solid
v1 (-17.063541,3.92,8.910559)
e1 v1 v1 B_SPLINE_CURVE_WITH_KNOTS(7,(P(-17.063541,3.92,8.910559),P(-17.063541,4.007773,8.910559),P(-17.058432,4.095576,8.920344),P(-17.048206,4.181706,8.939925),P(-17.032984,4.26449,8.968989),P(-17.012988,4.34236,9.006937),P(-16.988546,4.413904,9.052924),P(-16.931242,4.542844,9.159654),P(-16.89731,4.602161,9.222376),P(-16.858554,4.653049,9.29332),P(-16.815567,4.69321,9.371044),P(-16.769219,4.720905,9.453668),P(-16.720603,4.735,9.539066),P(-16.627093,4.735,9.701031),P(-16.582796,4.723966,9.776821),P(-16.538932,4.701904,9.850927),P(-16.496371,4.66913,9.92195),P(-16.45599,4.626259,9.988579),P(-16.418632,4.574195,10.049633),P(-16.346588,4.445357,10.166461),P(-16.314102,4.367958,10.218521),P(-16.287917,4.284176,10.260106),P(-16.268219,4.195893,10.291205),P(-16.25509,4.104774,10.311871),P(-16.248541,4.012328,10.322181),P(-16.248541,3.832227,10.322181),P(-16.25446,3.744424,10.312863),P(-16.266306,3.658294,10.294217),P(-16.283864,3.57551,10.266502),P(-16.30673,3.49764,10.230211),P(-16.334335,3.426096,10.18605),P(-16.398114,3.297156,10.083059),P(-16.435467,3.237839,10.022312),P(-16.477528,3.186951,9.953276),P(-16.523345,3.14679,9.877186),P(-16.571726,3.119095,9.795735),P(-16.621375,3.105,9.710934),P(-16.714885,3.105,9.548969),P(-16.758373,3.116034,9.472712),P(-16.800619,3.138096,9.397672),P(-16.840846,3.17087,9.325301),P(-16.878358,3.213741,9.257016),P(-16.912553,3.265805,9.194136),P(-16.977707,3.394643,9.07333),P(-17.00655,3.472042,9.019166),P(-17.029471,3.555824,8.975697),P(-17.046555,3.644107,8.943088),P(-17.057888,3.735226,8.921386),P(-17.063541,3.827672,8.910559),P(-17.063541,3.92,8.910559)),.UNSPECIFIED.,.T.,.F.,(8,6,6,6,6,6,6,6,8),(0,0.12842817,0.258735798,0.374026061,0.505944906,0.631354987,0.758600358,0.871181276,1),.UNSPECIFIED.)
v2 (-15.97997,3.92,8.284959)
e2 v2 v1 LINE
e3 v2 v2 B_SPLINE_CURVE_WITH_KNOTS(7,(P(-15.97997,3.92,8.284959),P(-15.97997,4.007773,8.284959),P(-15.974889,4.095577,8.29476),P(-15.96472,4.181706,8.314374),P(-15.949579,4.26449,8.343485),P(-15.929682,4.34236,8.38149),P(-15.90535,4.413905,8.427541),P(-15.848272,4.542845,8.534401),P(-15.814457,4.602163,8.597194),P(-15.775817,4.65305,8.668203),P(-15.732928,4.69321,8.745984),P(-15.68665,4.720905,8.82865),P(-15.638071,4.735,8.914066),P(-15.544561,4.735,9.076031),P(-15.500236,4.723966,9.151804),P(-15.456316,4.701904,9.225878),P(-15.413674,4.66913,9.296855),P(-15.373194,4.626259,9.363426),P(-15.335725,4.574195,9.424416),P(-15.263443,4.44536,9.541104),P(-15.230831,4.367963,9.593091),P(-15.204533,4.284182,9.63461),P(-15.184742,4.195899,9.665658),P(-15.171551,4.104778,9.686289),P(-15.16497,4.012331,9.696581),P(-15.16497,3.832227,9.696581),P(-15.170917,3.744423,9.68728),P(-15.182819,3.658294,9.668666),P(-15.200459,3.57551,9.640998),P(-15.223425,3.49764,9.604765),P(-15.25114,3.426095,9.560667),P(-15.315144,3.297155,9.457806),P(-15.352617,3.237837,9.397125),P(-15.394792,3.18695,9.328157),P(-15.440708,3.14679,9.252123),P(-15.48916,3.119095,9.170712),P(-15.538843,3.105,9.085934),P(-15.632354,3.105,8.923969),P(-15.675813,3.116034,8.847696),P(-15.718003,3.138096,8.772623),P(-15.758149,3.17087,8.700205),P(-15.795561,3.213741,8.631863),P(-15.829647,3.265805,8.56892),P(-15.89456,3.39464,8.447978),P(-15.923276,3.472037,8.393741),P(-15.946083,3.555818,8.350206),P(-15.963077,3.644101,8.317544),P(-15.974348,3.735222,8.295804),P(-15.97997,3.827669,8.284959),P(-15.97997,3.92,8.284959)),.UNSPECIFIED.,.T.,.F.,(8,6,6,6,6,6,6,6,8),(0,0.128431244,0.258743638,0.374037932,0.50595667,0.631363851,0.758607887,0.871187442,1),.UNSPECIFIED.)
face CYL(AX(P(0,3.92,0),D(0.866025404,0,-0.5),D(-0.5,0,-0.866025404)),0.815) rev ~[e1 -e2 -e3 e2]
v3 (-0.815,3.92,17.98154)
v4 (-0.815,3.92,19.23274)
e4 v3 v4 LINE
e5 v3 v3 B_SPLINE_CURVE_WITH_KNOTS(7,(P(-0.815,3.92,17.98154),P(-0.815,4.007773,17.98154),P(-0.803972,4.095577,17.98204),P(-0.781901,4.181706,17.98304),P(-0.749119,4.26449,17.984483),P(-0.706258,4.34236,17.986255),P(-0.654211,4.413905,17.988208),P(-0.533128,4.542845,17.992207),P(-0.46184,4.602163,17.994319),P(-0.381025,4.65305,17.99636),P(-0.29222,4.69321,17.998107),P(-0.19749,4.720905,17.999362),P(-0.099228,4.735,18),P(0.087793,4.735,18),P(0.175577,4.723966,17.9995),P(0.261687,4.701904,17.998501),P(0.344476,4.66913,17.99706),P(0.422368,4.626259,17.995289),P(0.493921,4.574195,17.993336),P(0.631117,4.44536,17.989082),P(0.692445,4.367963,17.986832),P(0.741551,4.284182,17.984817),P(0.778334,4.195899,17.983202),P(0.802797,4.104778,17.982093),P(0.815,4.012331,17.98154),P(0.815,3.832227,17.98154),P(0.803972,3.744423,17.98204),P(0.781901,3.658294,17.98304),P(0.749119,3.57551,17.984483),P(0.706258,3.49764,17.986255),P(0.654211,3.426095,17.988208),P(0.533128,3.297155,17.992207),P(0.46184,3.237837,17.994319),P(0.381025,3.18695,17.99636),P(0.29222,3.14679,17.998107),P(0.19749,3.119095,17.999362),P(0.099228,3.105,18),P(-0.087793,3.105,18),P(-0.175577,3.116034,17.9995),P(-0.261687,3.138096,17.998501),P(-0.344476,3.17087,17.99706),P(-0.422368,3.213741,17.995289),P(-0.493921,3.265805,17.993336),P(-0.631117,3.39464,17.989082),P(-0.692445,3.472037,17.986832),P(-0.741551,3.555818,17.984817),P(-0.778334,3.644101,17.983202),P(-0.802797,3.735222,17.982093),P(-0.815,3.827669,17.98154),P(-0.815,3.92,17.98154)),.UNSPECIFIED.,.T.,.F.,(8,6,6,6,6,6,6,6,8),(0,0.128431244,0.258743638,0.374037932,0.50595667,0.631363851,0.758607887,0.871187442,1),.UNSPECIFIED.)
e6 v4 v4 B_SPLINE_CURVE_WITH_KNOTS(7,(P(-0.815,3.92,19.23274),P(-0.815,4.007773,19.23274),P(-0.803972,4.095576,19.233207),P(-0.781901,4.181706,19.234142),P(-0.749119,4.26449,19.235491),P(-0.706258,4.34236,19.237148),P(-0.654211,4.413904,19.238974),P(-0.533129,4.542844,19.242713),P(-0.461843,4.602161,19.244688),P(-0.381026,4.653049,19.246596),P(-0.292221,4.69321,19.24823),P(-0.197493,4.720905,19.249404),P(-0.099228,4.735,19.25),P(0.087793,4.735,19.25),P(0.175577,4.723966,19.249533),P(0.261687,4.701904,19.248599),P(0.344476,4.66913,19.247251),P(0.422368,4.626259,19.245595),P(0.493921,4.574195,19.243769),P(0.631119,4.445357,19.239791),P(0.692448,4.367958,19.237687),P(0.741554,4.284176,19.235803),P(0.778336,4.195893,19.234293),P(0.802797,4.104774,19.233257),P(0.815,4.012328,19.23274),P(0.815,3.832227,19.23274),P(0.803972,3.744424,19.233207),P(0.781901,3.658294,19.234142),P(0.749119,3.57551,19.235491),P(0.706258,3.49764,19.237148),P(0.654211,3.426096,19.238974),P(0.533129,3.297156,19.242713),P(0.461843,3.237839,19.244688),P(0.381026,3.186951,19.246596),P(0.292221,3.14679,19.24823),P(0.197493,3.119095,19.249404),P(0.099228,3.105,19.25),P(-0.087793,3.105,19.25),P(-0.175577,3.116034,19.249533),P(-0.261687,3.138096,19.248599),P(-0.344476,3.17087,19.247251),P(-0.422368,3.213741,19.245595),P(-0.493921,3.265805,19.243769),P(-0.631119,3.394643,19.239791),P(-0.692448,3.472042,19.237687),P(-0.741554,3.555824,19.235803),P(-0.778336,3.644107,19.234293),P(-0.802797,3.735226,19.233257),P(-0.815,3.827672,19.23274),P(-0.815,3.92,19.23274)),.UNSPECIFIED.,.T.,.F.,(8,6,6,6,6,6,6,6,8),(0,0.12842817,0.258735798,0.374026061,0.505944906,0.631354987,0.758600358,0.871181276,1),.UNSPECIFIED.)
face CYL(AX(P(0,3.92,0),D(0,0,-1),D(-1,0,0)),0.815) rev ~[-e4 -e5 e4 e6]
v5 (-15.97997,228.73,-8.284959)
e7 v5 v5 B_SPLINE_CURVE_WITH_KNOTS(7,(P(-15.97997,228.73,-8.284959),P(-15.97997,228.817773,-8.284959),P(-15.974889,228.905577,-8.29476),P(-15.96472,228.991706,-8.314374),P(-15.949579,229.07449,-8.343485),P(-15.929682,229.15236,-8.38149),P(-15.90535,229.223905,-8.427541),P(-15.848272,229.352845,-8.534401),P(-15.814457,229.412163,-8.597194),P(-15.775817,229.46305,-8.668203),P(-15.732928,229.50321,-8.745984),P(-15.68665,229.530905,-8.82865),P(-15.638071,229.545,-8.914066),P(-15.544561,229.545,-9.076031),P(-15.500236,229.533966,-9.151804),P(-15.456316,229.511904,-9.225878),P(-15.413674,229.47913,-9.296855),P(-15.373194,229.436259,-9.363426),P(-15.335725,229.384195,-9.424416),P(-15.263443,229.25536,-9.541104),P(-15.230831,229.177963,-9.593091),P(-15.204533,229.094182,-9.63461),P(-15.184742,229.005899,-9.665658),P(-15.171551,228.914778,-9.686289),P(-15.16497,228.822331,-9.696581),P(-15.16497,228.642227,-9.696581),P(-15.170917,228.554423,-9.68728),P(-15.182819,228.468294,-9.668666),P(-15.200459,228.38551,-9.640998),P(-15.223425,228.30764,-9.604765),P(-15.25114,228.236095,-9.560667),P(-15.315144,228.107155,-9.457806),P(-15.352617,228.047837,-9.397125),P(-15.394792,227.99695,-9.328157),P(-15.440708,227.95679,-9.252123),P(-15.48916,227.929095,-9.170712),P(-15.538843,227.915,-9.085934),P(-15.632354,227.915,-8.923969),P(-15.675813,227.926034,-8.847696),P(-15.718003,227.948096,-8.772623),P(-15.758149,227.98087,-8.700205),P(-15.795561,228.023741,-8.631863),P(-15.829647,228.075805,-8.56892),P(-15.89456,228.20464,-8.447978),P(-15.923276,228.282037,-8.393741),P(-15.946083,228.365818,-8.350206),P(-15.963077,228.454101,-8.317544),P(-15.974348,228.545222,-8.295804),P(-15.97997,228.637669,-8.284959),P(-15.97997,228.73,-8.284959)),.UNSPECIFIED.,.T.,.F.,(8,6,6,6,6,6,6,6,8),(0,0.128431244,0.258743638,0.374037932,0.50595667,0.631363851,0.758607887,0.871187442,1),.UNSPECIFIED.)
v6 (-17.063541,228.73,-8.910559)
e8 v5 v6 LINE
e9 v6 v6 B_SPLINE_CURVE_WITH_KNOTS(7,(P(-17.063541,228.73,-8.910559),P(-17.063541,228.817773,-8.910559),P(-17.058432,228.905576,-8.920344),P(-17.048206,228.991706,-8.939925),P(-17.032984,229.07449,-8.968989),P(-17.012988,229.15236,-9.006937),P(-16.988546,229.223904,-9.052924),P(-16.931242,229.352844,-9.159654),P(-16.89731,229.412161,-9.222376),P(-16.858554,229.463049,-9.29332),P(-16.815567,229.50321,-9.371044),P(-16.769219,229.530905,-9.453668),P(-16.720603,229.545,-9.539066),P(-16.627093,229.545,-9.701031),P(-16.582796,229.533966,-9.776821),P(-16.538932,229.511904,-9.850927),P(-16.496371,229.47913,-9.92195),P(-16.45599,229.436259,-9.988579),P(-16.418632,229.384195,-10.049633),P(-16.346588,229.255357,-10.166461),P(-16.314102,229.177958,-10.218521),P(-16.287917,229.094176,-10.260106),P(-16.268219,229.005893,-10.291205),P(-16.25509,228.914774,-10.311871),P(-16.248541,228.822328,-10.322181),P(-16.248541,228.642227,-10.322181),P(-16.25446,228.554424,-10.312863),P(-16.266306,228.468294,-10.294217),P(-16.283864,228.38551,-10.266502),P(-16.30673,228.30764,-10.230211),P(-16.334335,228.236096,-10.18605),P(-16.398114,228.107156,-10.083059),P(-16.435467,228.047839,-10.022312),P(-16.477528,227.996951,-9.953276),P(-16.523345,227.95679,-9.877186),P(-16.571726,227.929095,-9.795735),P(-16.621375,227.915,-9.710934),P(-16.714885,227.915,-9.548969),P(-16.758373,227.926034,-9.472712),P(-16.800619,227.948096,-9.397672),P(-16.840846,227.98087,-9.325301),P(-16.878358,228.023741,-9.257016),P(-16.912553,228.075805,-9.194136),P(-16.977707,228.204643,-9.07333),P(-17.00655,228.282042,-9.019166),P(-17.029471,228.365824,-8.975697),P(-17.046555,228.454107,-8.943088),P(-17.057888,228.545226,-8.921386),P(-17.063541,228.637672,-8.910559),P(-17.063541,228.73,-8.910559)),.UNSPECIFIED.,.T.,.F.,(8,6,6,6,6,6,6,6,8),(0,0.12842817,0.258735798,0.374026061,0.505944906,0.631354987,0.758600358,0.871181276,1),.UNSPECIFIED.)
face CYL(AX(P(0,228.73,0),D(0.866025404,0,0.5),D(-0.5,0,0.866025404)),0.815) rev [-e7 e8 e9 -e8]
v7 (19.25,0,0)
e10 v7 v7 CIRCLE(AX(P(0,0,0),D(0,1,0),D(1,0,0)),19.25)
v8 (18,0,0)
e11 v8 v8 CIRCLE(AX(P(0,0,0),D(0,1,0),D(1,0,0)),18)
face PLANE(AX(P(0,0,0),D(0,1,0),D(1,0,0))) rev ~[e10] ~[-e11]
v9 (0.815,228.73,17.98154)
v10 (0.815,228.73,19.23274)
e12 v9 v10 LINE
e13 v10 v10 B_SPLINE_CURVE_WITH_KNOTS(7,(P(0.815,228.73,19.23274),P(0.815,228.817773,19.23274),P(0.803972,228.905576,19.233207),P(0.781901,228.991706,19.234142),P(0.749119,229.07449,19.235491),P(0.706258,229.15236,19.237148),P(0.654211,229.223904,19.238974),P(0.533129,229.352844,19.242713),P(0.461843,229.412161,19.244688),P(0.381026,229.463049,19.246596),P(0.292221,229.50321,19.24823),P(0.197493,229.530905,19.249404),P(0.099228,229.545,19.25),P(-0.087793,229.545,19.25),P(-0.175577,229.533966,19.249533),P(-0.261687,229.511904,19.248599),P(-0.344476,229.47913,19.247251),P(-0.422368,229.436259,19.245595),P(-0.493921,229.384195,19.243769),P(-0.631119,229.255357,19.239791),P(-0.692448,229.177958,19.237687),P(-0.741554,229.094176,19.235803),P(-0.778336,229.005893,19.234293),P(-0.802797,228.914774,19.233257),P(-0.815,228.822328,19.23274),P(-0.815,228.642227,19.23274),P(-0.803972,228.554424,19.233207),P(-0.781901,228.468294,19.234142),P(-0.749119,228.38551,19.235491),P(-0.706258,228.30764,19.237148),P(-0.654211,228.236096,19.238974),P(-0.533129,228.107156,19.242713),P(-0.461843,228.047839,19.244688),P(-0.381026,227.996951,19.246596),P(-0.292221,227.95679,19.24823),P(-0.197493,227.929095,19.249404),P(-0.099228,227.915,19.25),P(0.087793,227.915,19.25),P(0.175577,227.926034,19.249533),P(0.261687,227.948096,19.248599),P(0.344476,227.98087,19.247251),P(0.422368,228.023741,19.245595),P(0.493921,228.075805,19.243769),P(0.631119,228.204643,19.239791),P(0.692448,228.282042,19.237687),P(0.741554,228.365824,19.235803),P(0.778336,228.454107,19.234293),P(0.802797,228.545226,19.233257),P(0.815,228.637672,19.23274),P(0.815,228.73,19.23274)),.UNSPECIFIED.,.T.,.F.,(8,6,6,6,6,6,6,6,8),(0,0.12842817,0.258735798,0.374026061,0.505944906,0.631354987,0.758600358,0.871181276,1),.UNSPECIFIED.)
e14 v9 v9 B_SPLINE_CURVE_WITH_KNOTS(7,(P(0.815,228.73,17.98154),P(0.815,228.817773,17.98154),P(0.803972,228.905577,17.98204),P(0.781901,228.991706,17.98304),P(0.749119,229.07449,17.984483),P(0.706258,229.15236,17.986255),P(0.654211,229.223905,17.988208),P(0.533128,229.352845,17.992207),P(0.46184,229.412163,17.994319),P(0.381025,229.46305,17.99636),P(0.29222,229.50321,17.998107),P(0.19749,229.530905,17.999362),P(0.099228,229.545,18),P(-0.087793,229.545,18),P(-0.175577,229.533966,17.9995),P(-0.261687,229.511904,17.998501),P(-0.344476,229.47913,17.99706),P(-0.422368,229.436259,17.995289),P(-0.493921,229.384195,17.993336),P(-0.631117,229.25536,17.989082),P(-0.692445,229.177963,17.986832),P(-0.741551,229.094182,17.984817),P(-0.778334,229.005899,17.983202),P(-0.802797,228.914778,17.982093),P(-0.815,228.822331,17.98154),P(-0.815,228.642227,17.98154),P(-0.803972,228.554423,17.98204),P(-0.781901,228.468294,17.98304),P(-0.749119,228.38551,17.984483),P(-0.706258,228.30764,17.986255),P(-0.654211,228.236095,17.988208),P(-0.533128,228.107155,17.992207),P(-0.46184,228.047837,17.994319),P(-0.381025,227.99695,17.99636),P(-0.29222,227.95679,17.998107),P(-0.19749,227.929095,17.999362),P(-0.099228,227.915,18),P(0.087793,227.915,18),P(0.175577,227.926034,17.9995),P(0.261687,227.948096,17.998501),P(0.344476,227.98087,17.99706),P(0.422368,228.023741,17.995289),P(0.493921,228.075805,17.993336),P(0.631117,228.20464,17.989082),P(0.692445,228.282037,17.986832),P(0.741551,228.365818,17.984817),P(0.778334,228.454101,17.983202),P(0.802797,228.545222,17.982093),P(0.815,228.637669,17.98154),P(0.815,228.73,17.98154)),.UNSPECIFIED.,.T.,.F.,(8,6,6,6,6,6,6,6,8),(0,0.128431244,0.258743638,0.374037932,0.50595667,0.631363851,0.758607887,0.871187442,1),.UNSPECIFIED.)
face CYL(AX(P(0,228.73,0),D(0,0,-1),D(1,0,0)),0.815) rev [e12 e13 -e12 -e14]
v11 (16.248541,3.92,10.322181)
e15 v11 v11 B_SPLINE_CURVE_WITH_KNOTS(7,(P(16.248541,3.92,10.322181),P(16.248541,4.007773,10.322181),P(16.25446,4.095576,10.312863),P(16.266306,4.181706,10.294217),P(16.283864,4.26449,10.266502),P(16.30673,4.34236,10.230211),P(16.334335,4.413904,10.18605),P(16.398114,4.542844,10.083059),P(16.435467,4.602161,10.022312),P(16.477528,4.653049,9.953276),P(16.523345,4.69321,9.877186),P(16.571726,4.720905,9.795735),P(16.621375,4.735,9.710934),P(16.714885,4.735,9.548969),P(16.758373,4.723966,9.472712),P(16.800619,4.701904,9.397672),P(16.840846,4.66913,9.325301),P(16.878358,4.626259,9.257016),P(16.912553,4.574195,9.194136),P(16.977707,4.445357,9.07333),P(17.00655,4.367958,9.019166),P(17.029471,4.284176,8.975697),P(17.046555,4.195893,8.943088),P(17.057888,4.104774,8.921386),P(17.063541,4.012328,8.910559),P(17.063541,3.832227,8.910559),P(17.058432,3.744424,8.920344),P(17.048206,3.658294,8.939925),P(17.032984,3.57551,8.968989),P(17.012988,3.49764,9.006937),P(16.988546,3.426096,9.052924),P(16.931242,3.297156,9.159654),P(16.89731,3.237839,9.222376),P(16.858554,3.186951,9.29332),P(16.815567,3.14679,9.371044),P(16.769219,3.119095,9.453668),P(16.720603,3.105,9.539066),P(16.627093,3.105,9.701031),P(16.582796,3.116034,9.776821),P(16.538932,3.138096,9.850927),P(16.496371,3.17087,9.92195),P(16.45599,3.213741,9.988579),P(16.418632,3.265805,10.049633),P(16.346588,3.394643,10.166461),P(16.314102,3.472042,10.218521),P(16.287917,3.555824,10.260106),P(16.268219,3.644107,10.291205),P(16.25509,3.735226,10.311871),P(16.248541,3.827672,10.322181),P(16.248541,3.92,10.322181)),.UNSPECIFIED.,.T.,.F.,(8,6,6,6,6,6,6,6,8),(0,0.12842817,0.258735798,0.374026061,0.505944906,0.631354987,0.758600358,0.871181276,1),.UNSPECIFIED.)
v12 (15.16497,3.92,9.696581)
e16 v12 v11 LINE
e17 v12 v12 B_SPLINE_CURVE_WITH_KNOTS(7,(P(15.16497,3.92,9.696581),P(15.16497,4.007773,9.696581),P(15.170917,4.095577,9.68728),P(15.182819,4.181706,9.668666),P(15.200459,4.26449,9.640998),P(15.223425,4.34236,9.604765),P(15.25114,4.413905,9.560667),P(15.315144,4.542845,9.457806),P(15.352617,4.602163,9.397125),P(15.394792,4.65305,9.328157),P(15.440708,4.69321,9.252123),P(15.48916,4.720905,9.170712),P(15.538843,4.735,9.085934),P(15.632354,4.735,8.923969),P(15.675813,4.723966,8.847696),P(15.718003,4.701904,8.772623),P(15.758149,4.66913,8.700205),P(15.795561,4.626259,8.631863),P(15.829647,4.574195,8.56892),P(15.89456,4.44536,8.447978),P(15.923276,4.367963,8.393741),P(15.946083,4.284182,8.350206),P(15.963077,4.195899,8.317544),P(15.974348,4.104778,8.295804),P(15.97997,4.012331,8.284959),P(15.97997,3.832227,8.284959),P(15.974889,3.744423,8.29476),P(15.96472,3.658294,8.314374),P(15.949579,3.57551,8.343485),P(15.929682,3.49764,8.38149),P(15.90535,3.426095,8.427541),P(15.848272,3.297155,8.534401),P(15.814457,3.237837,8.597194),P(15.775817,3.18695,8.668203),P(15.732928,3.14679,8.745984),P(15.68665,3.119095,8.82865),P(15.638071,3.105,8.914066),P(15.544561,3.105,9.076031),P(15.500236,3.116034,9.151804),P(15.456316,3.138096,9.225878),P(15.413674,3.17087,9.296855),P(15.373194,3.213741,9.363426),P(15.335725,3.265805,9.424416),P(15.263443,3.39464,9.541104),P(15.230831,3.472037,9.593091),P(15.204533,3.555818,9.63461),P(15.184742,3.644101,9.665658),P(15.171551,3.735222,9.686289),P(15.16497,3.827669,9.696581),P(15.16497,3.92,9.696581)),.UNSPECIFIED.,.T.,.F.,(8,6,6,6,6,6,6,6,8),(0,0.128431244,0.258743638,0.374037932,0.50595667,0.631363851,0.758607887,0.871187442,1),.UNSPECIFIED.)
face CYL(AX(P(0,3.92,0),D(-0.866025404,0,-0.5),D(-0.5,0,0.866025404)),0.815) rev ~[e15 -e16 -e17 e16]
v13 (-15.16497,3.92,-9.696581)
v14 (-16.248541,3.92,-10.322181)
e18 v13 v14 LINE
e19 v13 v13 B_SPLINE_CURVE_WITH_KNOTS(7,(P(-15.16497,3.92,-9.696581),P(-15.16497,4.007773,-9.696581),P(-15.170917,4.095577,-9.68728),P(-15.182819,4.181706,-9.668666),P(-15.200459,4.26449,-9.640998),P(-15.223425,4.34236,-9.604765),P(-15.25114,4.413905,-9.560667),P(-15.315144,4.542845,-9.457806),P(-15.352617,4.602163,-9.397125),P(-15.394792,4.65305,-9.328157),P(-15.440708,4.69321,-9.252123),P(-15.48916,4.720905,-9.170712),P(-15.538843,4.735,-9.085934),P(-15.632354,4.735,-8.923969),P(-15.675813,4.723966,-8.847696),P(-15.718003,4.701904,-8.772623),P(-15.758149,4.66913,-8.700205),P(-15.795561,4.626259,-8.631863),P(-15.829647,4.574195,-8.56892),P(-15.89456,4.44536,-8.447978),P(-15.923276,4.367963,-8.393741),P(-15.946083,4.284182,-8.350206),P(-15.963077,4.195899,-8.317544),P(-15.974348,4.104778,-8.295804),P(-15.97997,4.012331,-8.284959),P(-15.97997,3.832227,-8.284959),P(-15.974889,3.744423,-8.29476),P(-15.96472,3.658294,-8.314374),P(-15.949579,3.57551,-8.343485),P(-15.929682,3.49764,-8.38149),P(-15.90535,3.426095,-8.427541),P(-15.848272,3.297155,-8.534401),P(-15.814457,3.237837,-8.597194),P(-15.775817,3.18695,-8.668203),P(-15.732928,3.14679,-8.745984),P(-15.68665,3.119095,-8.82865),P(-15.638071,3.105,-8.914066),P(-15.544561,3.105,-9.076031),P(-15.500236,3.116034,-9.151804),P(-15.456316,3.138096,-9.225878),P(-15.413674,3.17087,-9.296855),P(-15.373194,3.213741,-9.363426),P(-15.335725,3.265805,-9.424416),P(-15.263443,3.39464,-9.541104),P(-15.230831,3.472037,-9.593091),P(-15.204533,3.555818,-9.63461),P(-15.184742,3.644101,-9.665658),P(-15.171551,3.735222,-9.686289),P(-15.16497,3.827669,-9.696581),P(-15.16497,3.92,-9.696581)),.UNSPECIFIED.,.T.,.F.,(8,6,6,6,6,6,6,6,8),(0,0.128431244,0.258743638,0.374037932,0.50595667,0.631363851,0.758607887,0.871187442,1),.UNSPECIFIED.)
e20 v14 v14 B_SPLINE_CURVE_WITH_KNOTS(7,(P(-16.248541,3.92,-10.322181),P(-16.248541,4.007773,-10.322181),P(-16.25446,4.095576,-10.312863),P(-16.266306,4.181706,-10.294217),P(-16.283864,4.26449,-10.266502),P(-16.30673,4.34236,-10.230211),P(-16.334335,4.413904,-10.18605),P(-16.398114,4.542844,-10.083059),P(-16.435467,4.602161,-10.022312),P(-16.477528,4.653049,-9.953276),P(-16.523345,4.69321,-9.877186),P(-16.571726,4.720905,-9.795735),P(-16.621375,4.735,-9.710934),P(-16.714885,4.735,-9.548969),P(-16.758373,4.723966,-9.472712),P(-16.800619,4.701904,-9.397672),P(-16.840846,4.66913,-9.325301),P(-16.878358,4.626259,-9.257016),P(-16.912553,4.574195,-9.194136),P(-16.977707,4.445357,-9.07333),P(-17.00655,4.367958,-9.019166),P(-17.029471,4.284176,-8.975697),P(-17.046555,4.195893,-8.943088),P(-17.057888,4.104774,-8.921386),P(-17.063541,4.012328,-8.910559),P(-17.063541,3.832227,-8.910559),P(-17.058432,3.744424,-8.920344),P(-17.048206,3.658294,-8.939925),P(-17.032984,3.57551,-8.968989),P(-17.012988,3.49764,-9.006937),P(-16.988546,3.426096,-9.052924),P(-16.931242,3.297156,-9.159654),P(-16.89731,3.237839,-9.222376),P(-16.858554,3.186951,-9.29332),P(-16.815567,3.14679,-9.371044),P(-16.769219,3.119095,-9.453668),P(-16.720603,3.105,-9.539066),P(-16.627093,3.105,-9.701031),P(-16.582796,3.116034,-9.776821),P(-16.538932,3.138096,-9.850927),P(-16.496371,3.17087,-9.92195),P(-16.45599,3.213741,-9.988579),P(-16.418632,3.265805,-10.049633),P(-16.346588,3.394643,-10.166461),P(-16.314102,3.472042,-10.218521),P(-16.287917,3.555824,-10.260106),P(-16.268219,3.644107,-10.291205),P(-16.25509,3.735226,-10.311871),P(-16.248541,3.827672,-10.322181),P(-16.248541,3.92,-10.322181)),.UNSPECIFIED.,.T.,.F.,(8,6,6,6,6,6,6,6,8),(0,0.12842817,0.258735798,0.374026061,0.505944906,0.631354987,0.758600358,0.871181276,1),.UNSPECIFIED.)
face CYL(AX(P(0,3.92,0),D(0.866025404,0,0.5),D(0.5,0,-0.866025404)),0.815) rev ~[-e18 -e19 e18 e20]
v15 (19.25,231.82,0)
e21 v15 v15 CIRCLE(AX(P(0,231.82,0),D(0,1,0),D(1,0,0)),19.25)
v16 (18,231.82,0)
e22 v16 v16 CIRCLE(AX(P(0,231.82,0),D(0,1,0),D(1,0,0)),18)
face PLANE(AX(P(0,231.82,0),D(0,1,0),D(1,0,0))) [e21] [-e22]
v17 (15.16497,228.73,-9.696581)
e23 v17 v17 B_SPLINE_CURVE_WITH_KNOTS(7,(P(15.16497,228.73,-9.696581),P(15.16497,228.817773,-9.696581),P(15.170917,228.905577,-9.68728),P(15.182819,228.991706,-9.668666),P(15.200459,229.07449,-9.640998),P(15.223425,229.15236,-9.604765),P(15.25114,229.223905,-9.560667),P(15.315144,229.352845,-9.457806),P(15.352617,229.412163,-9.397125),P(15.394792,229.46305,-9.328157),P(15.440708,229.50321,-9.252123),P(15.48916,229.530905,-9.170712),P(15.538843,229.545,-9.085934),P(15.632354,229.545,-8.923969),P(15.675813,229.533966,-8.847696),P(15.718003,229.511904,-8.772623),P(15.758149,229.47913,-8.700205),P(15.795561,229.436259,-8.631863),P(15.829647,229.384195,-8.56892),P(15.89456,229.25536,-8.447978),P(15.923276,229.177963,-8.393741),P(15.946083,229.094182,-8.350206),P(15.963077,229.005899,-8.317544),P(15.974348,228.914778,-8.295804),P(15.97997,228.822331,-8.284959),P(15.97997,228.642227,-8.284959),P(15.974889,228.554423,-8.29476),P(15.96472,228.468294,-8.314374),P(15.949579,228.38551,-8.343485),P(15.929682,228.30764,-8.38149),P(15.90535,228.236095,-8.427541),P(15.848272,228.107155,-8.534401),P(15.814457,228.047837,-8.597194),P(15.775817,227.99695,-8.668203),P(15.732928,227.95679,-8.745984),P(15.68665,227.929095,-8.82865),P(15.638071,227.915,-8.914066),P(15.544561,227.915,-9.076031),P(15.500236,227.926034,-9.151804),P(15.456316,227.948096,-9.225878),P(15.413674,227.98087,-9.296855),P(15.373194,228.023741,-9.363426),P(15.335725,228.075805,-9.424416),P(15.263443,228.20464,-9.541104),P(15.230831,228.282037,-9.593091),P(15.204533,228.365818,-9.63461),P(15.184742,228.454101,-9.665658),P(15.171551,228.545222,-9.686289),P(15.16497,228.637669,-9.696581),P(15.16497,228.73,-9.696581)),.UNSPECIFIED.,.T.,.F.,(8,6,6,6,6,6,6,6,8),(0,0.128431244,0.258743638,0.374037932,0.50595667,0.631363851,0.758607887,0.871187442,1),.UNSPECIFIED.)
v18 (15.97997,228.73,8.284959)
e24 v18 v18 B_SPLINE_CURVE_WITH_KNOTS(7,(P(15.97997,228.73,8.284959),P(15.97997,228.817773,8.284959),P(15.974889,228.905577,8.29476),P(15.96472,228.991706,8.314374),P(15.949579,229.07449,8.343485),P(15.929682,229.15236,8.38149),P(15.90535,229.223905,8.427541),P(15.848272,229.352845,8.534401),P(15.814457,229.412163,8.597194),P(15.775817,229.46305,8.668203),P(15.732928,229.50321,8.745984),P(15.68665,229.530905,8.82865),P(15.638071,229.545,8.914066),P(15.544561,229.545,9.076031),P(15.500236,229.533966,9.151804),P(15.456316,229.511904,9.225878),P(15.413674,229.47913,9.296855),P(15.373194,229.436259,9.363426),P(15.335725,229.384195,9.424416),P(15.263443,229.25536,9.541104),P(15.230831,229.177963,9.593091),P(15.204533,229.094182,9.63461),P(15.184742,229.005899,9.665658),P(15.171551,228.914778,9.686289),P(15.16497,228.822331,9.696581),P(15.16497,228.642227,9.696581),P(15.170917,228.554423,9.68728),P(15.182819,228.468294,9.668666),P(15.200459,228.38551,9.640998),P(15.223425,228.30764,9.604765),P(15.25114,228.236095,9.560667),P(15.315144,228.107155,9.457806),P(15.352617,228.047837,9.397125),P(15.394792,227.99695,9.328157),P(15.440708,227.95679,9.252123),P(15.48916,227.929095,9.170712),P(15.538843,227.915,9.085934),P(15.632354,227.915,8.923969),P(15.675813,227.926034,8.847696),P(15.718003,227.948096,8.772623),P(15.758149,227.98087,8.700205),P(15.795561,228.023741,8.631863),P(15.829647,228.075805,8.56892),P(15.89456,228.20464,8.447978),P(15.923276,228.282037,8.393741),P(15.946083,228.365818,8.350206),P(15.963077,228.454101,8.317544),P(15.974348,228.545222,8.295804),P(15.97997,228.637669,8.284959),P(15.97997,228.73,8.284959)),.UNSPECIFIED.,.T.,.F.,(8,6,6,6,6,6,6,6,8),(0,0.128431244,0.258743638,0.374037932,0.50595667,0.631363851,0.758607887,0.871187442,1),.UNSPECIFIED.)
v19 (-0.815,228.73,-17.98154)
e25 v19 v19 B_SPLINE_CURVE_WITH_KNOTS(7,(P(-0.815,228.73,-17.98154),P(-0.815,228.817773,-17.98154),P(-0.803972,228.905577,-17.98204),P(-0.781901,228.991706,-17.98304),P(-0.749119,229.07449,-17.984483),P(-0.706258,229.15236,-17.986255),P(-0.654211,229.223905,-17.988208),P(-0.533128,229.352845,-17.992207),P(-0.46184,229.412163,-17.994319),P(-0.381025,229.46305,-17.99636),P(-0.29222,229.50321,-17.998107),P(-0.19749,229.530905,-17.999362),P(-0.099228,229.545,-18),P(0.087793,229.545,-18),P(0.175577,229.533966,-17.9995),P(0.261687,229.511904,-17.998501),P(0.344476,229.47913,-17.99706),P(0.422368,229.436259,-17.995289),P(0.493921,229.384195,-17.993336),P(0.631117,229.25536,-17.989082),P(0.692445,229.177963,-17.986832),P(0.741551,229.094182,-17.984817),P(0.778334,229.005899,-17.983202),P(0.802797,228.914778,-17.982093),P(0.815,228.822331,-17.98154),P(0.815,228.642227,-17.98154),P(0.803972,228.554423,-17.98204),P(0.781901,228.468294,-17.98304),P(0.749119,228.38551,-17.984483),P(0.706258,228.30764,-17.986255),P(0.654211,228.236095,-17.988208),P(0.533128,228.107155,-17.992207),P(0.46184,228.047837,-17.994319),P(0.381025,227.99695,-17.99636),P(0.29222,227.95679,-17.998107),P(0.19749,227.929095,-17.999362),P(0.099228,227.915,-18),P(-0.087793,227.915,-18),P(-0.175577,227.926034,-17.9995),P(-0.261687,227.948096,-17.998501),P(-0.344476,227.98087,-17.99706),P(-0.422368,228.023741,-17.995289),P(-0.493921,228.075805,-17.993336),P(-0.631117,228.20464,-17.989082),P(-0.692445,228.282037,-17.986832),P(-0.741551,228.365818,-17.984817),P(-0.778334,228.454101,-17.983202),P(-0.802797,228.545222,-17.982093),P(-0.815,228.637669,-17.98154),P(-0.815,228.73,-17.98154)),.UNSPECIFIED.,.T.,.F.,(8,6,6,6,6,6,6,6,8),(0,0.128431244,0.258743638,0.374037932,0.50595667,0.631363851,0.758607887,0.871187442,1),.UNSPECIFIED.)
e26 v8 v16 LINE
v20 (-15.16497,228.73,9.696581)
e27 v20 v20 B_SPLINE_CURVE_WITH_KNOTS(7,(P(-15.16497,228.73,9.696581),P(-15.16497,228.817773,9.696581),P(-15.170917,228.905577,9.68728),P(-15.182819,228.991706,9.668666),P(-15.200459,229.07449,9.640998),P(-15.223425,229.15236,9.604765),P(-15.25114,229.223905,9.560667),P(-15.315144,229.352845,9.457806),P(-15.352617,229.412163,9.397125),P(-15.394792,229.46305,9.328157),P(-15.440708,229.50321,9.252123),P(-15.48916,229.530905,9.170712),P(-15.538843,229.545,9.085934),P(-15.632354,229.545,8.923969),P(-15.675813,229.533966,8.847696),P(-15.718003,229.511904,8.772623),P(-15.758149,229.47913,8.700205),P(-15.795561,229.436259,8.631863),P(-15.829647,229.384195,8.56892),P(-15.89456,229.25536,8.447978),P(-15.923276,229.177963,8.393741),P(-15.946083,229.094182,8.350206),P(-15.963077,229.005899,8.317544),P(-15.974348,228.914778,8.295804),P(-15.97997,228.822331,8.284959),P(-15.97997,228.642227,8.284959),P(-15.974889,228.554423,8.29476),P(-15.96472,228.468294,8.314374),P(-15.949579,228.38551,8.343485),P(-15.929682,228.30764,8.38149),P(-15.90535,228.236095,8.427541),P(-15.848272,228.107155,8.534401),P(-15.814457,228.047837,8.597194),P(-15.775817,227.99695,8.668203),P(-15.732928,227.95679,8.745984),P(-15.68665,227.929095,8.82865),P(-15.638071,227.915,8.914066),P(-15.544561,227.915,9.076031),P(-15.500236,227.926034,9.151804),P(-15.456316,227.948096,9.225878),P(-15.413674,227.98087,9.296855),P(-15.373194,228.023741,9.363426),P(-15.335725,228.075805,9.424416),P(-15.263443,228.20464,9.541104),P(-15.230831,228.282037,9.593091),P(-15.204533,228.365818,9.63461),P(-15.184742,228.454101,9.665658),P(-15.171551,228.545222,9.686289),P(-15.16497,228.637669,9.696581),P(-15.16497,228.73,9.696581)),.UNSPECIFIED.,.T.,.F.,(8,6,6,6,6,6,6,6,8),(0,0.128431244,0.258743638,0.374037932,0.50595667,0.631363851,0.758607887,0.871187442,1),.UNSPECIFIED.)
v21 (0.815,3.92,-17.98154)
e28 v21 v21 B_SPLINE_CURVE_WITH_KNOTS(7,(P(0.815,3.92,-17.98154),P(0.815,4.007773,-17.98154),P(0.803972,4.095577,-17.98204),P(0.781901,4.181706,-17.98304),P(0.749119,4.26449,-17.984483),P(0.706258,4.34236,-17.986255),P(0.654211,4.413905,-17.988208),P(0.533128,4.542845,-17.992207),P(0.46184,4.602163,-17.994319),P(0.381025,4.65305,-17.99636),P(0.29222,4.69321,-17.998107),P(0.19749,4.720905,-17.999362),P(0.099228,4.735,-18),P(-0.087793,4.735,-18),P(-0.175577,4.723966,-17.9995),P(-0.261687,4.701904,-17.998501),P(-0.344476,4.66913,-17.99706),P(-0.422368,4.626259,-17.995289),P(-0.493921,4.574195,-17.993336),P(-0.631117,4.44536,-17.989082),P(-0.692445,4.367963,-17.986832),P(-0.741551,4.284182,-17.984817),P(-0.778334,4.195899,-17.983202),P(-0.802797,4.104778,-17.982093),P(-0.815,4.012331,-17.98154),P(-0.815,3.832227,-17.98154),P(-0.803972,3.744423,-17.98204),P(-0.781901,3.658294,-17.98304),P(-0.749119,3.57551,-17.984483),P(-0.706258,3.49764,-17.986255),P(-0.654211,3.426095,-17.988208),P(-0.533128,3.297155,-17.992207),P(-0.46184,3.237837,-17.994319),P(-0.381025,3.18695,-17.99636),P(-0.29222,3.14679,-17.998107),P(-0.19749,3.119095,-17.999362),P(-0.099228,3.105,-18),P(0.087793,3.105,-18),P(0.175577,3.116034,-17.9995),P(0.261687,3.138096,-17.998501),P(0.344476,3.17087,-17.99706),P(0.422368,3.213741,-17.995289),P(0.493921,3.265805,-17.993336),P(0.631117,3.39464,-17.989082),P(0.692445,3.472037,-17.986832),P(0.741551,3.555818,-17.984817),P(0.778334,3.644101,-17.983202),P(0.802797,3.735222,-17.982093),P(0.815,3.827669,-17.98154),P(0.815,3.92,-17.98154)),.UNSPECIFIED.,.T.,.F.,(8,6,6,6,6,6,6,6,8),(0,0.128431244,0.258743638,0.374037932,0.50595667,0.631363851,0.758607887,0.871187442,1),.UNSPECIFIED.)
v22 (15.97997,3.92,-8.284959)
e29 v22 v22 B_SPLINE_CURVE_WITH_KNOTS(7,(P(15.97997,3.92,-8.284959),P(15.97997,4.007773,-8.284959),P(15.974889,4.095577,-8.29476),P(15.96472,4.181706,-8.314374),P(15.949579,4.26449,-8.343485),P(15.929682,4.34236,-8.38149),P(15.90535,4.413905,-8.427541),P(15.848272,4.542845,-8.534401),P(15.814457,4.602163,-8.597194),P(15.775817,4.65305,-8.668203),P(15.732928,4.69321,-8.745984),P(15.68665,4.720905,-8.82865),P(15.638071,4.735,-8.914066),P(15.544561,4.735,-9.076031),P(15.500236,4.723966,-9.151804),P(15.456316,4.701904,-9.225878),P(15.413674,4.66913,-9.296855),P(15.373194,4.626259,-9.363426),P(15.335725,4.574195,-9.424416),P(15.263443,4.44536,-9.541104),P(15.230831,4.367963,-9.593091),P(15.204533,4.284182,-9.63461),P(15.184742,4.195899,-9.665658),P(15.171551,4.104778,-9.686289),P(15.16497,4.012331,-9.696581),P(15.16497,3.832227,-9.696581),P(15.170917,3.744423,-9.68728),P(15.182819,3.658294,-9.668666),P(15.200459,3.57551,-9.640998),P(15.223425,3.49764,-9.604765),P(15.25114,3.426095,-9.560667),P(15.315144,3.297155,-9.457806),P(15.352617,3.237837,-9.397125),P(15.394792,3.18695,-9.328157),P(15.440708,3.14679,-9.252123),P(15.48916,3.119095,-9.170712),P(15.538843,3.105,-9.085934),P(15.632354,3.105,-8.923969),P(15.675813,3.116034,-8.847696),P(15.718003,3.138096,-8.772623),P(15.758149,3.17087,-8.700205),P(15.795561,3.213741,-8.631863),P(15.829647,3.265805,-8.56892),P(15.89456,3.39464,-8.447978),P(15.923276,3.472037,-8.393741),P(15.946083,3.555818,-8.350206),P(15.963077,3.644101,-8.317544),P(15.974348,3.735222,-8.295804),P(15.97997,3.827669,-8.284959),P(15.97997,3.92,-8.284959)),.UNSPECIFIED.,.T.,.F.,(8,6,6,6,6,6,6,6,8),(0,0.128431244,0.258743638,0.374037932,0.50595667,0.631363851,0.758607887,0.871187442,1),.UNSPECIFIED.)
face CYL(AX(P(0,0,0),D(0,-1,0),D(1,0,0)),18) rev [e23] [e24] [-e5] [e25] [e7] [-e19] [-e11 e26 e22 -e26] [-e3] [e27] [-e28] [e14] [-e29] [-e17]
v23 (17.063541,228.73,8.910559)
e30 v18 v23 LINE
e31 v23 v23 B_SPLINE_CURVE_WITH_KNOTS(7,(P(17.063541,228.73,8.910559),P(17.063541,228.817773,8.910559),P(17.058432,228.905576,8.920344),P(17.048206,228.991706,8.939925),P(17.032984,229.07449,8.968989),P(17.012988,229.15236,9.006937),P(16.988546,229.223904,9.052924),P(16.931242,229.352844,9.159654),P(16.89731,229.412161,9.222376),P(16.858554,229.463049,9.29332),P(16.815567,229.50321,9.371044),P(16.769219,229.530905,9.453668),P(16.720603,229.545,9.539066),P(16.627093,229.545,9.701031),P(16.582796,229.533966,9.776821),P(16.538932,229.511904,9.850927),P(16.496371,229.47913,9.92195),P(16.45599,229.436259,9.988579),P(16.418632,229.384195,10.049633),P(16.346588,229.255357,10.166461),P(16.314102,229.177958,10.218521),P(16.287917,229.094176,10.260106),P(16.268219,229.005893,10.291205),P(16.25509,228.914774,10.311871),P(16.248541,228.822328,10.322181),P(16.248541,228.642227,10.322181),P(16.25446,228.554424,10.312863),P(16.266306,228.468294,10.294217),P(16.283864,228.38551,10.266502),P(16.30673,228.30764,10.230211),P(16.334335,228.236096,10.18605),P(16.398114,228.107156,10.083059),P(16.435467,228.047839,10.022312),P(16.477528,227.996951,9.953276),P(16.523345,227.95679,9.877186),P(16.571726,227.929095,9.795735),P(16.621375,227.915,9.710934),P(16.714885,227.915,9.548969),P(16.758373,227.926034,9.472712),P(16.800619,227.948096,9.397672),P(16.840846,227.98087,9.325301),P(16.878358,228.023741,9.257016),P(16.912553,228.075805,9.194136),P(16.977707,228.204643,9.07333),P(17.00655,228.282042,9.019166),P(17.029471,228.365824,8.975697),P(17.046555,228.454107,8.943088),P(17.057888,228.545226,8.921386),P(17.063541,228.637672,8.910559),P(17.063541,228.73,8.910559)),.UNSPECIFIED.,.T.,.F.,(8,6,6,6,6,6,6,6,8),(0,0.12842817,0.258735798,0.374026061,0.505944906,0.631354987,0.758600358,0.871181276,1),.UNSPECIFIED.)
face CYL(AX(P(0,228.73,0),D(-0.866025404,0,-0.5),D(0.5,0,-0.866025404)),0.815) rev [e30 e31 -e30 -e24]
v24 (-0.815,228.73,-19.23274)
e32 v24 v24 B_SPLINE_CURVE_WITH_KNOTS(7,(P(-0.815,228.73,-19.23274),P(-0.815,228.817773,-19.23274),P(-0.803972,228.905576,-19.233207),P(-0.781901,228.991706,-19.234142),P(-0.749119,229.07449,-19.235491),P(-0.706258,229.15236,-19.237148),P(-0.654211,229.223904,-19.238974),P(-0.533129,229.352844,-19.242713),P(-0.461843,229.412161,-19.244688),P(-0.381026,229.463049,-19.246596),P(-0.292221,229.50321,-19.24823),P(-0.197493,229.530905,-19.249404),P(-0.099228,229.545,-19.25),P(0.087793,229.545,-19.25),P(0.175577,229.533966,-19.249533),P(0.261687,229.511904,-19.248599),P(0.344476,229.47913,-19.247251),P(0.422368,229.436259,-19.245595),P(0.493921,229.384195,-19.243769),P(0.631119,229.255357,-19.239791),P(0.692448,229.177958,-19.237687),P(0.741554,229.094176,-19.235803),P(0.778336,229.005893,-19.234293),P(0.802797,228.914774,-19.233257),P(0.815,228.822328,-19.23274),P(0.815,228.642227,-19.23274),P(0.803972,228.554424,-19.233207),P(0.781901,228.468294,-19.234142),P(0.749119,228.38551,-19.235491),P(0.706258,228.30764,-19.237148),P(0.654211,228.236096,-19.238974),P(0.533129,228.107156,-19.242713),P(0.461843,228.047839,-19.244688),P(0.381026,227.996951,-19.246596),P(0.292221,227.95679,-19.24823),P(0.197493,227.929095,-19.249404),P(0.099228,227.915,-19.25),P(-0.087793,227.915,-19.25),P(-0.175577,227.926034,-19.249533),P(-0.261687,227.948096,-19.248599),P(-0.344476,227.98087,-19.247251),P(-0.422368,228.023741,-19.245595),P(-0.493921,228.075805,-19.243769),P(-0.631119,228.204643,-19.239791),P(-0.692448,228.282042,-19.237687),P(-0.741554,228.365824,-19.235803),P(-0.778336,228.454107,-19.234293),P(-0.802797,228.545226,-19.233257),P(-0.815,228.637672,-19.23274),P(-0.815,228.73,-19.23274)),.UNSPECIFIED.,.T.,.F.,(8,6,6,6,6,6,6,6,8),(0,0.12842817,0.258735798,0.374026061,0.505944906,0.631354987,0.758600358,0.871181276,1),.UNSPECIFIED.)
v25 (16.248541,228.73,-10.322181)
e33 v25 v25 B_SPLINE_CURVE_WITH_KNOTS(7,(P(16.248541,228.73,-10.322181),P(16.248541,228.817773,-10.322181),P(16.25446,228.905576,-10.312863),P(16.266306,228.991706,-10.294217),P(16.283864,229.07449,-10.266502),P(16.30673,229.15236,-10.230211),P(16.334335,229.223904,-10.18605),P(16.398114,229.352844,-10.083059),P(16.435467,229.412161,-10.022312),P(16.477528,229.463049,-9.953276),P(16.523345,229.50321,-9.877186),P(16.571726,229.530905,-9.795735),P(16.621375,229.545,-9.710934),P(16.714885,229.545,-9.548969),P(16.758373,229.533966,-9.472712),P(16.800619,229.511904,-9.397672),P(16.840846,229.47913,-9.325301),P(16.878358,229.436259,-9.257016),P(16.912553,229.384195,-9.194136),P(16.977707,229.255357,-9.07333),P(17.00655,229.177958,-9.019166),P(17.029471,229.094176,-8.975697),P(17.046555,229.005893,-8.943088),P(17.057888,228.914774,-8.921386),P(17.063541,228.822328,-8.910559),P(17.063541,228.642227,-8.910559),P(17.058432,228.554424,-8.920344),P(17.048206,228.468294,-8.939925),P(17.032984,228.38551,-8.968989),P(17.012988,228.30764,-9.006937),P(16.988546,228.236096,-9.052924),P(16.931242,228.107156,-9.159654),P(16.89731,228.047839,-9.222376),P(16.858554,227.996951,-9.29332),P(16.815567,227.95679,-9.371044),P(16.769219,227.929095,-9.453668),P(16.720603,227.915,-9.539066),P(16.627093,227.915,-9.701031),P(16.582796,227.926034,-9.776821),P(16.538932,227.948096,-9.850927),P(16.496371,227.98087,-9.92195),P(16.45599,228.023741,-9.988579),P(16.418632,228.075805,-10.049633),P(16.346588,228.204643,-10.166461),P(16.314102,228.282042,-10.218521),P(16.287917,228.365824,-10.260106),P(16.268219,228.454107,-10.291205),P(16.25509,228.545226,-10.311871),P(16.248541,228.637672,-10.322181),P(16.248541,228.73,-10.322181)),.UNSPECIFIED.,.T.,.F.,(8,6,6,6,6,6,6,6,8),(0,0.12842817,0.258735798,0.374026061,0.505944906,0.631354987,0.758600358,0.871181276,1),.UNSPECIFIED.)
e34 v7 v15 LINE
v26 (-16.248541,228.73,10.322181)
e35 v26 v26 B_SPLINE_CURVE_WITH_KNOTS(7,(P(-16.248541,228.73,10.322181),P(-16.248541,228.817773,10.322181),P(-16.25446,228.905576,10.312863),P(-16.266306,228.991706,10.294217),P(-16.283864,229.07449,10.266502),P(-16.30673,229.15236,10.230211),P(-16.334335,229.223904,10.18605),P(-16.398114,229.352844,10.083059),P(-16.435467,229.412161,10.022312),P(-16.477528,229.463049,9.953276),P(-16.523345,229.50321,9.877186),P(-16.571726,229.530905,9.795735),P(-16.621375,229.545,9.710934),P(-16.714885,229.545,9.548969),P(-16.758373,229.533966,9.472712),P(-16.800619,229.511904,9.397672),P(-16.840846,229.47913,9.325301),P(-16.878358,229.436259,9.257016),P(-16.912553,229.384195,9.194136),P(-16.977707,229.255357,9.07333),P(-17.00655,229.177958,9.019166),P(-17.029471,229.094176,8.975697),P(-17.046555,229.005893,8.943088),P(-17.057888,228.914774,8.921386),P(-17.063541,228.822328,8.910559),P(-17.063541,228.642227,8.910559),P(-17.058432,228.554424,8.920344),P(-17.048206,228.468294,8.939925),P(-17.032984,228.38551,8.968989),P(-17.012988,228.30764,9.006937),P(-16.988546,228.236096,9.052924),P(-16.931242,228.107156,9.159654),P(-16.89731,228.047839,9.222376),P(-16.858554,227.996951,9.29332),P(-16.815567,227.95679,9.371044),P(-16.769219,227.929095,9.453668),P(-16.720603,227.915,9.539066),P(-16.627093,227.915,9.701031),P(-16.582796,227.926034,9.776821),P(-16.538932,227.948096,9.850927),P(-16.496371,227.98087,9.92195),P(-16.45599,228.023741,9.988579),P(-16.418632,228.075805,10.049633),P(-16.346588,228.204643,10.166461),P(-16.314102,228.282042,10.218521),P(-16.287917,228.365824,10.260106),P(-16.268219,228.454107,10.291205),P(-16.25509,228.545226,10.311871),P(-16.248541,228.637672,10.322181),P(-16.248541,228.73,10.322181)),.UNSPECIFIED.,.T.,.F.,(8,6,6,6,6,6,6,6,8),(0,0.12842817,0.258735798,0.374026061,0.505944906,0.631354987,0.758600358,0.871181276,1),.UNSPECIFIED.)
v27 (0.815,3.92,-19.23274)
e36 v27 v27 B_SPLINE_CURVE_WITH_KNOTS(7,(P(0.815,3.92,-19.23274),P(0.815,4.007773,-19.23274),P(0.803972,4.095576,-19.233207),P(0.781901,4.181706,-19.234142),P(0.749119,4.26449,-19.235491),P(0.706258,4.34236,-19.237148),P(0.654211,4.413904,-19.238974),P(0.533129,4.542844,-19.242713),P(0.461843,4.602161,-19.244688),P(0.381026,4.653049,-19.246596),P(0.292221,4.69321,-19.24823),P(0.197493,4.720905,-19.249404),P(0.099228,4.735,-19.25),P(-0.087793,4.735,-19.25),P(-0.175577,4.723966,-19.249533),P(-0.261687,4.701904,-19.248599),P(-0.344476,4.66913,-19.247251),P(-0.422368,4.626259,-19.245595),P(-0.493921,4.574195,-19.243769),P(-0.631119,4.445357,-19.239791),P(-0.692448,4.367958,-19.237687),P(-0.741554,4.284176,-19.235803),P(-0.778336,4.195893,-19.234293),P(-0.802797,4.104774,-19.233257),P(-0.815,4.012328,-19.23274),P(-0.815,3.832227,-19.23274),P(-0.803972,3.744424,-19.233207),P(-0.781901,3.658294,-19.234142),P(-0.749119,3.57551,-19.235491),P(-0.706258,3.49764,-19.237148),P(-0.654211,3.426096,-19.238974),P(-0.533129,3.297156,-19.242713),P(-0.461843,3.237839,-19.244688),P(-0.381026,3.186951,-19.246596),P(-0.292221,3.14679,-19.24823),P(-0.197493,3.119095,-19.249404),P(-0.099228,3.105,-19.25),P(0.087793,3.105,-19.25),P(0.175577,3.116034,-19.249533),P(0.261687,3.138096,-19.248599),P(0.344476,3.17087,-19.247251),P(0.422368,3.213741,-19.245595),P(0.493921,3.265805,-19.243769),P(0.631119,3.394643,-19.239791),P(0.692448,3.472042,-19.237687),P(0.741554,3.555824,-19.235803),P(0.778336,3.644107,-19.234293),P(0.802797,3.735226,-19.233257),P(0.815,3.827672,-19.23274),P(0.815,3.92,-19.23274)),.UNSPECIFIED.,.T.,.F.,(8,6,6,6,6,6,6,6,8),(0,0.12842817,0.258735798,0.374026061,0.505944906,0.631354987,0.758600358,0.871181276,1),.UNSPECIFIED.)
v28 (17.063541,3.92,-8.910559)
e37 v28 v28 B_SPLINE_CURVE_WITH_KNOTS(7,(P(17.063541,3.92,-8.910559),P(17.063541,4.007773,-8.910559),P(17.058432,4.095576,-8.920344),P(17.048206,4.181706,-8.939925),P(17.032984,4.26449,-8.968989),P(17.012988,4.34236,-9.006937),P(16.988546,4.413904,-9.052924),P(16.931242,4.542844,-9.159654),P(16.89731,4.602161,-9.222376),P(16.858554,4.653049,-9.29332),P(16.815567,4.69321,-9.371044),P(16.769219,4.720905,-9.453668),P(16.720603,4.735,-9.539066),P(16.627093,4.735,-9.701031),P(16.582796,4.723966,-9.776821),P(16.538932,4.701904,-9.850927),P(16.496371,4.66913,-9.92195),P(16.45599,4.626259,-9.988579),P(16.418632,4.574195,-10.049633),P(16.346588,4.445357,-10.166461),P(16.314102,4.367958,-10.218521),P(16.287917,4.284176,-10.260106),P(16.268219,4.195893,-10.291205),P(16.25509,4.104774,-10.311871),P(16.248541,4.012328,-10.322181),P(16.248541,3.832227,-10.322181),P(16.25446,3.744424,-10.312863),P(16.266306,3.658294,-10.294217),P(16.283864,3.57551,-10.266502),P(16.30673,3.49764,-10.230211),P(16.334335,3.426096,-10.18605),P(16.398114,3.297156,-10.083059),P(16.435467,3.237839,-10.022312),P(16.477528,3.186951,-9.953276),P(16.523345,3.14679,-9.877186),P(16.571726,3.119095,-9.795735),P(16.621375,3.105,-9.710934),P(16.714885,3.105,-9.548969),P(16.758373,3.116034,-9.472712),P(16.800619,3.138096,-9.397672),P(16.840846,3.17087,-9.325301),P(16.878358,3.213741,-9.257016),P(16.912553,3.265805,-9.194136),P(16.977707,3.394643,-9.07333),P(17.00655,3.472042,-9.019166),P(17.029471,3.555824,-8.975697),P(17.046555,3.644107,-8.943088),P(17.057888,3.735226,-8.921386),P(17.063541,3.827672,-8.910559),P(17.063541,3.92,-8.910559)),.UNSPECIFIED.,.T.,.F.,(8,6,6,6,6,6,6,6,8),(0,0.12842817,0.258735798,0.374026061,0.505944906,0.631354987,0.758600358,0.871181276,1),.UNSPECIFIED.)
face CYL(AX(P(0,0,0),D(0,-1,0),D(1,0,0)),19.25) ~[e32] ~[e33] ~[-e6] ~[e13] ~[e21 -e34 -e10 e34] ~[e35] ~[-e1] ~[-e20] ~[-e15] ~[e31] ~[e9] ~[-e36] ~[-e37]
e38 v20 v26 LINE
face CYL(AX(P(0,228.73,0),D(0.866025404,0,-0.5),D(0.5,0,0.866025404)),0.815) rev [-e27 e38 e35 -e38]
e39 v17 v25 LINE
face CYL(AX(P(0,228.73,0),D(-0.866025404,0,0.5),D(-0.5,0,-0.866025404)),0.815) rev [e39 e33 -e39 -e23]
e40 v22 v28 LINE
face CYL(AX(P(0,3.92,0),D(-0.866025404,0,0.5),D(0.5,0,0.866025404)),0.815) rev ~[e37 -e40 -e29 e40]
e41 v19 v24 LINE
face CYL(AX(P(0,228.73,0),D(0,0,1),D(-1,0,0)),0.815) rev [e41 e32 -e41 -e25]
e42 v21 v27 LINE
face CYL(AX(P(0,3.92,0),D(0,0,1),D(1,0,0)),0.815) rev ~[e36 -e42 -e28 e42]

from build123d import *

# Parameters (mm, degrees)
SKETCH2_R           = 19.25
SKETCH2_R_2         = 18
BOSS_EXTRUDE1_DEPTH = 231.82
SKETCH3_R           = 0.815
CUT_EXTRUDE2_DEPTH  = 231.82
CIRPATTERN3_COUNT   = 6
SKETCH4_R           = 0.815
CUT_EXTRUDE3_DEPTH  = 231.82
CIRPATTERN4_COUNT   = 6


with BuildPart() as part:
    # Sketch2 → Boss-Extrude1 (new body)
    with BuildSketch(Plane(origin=(0, 0, 0), x_dir=(1, 0, 0), z_dir=(0, 1, 0))):
        Circle(SKETCH2_R)
        Circle(SKETCH2_R_2, mode=Mode.SUBTRACT)
    extrude(amount=BOSS_EXTRUDE1_DEPTH)

    # Sketch3 → Cut-Extrude2 (cut)
    with BuildSketch(Plane.XY):
        with Locations((0, 3.92)):
            Circle(SKETCH3_R)
    cut_extrude2 = extrude(amount=-CUT_EXTRUDE2_DEPTH, mode=Mode.SUBTRACT)

    # CirPattern3: Cut-Extrude2 ×6 about axis
    cirpattern3_axis = Axis((0, 231.82, 0), (0, -1, 0))
    for i in range(1, CIRPATTERN3_COUNT):
        add(cut_extrude2.rotate(cirpattern3_axis, i * 360 / CIRPATTERN3_COUNT), mode=Mode.SUBTRACT)

    # Sketch4 → Cut-Extrude3 (cut)
    with BuildSketch(Plane.XY):
        with Locations((0, 228.73)):
            Circle(SKETCH4_R)
    cut_extrude3 = extrude(amount=CUT_EXTRUDE3_DEPTH, mode=Mode.SUBTRACT)

    # CirPattern4: Cut-Extrude3 ×6 about axis
    cirpattern4_axis = Axis((0, 231.82, 0), (0, -1, 0))
    for i in range(1, CIRPATTERN4_COUNT):
        add(cut_extrude3.rotate(cirpattern4_axis, i * 360 / CIRPATTERN4_COUNT), mode=Mode.SUBTRACT)


solid = part.part
